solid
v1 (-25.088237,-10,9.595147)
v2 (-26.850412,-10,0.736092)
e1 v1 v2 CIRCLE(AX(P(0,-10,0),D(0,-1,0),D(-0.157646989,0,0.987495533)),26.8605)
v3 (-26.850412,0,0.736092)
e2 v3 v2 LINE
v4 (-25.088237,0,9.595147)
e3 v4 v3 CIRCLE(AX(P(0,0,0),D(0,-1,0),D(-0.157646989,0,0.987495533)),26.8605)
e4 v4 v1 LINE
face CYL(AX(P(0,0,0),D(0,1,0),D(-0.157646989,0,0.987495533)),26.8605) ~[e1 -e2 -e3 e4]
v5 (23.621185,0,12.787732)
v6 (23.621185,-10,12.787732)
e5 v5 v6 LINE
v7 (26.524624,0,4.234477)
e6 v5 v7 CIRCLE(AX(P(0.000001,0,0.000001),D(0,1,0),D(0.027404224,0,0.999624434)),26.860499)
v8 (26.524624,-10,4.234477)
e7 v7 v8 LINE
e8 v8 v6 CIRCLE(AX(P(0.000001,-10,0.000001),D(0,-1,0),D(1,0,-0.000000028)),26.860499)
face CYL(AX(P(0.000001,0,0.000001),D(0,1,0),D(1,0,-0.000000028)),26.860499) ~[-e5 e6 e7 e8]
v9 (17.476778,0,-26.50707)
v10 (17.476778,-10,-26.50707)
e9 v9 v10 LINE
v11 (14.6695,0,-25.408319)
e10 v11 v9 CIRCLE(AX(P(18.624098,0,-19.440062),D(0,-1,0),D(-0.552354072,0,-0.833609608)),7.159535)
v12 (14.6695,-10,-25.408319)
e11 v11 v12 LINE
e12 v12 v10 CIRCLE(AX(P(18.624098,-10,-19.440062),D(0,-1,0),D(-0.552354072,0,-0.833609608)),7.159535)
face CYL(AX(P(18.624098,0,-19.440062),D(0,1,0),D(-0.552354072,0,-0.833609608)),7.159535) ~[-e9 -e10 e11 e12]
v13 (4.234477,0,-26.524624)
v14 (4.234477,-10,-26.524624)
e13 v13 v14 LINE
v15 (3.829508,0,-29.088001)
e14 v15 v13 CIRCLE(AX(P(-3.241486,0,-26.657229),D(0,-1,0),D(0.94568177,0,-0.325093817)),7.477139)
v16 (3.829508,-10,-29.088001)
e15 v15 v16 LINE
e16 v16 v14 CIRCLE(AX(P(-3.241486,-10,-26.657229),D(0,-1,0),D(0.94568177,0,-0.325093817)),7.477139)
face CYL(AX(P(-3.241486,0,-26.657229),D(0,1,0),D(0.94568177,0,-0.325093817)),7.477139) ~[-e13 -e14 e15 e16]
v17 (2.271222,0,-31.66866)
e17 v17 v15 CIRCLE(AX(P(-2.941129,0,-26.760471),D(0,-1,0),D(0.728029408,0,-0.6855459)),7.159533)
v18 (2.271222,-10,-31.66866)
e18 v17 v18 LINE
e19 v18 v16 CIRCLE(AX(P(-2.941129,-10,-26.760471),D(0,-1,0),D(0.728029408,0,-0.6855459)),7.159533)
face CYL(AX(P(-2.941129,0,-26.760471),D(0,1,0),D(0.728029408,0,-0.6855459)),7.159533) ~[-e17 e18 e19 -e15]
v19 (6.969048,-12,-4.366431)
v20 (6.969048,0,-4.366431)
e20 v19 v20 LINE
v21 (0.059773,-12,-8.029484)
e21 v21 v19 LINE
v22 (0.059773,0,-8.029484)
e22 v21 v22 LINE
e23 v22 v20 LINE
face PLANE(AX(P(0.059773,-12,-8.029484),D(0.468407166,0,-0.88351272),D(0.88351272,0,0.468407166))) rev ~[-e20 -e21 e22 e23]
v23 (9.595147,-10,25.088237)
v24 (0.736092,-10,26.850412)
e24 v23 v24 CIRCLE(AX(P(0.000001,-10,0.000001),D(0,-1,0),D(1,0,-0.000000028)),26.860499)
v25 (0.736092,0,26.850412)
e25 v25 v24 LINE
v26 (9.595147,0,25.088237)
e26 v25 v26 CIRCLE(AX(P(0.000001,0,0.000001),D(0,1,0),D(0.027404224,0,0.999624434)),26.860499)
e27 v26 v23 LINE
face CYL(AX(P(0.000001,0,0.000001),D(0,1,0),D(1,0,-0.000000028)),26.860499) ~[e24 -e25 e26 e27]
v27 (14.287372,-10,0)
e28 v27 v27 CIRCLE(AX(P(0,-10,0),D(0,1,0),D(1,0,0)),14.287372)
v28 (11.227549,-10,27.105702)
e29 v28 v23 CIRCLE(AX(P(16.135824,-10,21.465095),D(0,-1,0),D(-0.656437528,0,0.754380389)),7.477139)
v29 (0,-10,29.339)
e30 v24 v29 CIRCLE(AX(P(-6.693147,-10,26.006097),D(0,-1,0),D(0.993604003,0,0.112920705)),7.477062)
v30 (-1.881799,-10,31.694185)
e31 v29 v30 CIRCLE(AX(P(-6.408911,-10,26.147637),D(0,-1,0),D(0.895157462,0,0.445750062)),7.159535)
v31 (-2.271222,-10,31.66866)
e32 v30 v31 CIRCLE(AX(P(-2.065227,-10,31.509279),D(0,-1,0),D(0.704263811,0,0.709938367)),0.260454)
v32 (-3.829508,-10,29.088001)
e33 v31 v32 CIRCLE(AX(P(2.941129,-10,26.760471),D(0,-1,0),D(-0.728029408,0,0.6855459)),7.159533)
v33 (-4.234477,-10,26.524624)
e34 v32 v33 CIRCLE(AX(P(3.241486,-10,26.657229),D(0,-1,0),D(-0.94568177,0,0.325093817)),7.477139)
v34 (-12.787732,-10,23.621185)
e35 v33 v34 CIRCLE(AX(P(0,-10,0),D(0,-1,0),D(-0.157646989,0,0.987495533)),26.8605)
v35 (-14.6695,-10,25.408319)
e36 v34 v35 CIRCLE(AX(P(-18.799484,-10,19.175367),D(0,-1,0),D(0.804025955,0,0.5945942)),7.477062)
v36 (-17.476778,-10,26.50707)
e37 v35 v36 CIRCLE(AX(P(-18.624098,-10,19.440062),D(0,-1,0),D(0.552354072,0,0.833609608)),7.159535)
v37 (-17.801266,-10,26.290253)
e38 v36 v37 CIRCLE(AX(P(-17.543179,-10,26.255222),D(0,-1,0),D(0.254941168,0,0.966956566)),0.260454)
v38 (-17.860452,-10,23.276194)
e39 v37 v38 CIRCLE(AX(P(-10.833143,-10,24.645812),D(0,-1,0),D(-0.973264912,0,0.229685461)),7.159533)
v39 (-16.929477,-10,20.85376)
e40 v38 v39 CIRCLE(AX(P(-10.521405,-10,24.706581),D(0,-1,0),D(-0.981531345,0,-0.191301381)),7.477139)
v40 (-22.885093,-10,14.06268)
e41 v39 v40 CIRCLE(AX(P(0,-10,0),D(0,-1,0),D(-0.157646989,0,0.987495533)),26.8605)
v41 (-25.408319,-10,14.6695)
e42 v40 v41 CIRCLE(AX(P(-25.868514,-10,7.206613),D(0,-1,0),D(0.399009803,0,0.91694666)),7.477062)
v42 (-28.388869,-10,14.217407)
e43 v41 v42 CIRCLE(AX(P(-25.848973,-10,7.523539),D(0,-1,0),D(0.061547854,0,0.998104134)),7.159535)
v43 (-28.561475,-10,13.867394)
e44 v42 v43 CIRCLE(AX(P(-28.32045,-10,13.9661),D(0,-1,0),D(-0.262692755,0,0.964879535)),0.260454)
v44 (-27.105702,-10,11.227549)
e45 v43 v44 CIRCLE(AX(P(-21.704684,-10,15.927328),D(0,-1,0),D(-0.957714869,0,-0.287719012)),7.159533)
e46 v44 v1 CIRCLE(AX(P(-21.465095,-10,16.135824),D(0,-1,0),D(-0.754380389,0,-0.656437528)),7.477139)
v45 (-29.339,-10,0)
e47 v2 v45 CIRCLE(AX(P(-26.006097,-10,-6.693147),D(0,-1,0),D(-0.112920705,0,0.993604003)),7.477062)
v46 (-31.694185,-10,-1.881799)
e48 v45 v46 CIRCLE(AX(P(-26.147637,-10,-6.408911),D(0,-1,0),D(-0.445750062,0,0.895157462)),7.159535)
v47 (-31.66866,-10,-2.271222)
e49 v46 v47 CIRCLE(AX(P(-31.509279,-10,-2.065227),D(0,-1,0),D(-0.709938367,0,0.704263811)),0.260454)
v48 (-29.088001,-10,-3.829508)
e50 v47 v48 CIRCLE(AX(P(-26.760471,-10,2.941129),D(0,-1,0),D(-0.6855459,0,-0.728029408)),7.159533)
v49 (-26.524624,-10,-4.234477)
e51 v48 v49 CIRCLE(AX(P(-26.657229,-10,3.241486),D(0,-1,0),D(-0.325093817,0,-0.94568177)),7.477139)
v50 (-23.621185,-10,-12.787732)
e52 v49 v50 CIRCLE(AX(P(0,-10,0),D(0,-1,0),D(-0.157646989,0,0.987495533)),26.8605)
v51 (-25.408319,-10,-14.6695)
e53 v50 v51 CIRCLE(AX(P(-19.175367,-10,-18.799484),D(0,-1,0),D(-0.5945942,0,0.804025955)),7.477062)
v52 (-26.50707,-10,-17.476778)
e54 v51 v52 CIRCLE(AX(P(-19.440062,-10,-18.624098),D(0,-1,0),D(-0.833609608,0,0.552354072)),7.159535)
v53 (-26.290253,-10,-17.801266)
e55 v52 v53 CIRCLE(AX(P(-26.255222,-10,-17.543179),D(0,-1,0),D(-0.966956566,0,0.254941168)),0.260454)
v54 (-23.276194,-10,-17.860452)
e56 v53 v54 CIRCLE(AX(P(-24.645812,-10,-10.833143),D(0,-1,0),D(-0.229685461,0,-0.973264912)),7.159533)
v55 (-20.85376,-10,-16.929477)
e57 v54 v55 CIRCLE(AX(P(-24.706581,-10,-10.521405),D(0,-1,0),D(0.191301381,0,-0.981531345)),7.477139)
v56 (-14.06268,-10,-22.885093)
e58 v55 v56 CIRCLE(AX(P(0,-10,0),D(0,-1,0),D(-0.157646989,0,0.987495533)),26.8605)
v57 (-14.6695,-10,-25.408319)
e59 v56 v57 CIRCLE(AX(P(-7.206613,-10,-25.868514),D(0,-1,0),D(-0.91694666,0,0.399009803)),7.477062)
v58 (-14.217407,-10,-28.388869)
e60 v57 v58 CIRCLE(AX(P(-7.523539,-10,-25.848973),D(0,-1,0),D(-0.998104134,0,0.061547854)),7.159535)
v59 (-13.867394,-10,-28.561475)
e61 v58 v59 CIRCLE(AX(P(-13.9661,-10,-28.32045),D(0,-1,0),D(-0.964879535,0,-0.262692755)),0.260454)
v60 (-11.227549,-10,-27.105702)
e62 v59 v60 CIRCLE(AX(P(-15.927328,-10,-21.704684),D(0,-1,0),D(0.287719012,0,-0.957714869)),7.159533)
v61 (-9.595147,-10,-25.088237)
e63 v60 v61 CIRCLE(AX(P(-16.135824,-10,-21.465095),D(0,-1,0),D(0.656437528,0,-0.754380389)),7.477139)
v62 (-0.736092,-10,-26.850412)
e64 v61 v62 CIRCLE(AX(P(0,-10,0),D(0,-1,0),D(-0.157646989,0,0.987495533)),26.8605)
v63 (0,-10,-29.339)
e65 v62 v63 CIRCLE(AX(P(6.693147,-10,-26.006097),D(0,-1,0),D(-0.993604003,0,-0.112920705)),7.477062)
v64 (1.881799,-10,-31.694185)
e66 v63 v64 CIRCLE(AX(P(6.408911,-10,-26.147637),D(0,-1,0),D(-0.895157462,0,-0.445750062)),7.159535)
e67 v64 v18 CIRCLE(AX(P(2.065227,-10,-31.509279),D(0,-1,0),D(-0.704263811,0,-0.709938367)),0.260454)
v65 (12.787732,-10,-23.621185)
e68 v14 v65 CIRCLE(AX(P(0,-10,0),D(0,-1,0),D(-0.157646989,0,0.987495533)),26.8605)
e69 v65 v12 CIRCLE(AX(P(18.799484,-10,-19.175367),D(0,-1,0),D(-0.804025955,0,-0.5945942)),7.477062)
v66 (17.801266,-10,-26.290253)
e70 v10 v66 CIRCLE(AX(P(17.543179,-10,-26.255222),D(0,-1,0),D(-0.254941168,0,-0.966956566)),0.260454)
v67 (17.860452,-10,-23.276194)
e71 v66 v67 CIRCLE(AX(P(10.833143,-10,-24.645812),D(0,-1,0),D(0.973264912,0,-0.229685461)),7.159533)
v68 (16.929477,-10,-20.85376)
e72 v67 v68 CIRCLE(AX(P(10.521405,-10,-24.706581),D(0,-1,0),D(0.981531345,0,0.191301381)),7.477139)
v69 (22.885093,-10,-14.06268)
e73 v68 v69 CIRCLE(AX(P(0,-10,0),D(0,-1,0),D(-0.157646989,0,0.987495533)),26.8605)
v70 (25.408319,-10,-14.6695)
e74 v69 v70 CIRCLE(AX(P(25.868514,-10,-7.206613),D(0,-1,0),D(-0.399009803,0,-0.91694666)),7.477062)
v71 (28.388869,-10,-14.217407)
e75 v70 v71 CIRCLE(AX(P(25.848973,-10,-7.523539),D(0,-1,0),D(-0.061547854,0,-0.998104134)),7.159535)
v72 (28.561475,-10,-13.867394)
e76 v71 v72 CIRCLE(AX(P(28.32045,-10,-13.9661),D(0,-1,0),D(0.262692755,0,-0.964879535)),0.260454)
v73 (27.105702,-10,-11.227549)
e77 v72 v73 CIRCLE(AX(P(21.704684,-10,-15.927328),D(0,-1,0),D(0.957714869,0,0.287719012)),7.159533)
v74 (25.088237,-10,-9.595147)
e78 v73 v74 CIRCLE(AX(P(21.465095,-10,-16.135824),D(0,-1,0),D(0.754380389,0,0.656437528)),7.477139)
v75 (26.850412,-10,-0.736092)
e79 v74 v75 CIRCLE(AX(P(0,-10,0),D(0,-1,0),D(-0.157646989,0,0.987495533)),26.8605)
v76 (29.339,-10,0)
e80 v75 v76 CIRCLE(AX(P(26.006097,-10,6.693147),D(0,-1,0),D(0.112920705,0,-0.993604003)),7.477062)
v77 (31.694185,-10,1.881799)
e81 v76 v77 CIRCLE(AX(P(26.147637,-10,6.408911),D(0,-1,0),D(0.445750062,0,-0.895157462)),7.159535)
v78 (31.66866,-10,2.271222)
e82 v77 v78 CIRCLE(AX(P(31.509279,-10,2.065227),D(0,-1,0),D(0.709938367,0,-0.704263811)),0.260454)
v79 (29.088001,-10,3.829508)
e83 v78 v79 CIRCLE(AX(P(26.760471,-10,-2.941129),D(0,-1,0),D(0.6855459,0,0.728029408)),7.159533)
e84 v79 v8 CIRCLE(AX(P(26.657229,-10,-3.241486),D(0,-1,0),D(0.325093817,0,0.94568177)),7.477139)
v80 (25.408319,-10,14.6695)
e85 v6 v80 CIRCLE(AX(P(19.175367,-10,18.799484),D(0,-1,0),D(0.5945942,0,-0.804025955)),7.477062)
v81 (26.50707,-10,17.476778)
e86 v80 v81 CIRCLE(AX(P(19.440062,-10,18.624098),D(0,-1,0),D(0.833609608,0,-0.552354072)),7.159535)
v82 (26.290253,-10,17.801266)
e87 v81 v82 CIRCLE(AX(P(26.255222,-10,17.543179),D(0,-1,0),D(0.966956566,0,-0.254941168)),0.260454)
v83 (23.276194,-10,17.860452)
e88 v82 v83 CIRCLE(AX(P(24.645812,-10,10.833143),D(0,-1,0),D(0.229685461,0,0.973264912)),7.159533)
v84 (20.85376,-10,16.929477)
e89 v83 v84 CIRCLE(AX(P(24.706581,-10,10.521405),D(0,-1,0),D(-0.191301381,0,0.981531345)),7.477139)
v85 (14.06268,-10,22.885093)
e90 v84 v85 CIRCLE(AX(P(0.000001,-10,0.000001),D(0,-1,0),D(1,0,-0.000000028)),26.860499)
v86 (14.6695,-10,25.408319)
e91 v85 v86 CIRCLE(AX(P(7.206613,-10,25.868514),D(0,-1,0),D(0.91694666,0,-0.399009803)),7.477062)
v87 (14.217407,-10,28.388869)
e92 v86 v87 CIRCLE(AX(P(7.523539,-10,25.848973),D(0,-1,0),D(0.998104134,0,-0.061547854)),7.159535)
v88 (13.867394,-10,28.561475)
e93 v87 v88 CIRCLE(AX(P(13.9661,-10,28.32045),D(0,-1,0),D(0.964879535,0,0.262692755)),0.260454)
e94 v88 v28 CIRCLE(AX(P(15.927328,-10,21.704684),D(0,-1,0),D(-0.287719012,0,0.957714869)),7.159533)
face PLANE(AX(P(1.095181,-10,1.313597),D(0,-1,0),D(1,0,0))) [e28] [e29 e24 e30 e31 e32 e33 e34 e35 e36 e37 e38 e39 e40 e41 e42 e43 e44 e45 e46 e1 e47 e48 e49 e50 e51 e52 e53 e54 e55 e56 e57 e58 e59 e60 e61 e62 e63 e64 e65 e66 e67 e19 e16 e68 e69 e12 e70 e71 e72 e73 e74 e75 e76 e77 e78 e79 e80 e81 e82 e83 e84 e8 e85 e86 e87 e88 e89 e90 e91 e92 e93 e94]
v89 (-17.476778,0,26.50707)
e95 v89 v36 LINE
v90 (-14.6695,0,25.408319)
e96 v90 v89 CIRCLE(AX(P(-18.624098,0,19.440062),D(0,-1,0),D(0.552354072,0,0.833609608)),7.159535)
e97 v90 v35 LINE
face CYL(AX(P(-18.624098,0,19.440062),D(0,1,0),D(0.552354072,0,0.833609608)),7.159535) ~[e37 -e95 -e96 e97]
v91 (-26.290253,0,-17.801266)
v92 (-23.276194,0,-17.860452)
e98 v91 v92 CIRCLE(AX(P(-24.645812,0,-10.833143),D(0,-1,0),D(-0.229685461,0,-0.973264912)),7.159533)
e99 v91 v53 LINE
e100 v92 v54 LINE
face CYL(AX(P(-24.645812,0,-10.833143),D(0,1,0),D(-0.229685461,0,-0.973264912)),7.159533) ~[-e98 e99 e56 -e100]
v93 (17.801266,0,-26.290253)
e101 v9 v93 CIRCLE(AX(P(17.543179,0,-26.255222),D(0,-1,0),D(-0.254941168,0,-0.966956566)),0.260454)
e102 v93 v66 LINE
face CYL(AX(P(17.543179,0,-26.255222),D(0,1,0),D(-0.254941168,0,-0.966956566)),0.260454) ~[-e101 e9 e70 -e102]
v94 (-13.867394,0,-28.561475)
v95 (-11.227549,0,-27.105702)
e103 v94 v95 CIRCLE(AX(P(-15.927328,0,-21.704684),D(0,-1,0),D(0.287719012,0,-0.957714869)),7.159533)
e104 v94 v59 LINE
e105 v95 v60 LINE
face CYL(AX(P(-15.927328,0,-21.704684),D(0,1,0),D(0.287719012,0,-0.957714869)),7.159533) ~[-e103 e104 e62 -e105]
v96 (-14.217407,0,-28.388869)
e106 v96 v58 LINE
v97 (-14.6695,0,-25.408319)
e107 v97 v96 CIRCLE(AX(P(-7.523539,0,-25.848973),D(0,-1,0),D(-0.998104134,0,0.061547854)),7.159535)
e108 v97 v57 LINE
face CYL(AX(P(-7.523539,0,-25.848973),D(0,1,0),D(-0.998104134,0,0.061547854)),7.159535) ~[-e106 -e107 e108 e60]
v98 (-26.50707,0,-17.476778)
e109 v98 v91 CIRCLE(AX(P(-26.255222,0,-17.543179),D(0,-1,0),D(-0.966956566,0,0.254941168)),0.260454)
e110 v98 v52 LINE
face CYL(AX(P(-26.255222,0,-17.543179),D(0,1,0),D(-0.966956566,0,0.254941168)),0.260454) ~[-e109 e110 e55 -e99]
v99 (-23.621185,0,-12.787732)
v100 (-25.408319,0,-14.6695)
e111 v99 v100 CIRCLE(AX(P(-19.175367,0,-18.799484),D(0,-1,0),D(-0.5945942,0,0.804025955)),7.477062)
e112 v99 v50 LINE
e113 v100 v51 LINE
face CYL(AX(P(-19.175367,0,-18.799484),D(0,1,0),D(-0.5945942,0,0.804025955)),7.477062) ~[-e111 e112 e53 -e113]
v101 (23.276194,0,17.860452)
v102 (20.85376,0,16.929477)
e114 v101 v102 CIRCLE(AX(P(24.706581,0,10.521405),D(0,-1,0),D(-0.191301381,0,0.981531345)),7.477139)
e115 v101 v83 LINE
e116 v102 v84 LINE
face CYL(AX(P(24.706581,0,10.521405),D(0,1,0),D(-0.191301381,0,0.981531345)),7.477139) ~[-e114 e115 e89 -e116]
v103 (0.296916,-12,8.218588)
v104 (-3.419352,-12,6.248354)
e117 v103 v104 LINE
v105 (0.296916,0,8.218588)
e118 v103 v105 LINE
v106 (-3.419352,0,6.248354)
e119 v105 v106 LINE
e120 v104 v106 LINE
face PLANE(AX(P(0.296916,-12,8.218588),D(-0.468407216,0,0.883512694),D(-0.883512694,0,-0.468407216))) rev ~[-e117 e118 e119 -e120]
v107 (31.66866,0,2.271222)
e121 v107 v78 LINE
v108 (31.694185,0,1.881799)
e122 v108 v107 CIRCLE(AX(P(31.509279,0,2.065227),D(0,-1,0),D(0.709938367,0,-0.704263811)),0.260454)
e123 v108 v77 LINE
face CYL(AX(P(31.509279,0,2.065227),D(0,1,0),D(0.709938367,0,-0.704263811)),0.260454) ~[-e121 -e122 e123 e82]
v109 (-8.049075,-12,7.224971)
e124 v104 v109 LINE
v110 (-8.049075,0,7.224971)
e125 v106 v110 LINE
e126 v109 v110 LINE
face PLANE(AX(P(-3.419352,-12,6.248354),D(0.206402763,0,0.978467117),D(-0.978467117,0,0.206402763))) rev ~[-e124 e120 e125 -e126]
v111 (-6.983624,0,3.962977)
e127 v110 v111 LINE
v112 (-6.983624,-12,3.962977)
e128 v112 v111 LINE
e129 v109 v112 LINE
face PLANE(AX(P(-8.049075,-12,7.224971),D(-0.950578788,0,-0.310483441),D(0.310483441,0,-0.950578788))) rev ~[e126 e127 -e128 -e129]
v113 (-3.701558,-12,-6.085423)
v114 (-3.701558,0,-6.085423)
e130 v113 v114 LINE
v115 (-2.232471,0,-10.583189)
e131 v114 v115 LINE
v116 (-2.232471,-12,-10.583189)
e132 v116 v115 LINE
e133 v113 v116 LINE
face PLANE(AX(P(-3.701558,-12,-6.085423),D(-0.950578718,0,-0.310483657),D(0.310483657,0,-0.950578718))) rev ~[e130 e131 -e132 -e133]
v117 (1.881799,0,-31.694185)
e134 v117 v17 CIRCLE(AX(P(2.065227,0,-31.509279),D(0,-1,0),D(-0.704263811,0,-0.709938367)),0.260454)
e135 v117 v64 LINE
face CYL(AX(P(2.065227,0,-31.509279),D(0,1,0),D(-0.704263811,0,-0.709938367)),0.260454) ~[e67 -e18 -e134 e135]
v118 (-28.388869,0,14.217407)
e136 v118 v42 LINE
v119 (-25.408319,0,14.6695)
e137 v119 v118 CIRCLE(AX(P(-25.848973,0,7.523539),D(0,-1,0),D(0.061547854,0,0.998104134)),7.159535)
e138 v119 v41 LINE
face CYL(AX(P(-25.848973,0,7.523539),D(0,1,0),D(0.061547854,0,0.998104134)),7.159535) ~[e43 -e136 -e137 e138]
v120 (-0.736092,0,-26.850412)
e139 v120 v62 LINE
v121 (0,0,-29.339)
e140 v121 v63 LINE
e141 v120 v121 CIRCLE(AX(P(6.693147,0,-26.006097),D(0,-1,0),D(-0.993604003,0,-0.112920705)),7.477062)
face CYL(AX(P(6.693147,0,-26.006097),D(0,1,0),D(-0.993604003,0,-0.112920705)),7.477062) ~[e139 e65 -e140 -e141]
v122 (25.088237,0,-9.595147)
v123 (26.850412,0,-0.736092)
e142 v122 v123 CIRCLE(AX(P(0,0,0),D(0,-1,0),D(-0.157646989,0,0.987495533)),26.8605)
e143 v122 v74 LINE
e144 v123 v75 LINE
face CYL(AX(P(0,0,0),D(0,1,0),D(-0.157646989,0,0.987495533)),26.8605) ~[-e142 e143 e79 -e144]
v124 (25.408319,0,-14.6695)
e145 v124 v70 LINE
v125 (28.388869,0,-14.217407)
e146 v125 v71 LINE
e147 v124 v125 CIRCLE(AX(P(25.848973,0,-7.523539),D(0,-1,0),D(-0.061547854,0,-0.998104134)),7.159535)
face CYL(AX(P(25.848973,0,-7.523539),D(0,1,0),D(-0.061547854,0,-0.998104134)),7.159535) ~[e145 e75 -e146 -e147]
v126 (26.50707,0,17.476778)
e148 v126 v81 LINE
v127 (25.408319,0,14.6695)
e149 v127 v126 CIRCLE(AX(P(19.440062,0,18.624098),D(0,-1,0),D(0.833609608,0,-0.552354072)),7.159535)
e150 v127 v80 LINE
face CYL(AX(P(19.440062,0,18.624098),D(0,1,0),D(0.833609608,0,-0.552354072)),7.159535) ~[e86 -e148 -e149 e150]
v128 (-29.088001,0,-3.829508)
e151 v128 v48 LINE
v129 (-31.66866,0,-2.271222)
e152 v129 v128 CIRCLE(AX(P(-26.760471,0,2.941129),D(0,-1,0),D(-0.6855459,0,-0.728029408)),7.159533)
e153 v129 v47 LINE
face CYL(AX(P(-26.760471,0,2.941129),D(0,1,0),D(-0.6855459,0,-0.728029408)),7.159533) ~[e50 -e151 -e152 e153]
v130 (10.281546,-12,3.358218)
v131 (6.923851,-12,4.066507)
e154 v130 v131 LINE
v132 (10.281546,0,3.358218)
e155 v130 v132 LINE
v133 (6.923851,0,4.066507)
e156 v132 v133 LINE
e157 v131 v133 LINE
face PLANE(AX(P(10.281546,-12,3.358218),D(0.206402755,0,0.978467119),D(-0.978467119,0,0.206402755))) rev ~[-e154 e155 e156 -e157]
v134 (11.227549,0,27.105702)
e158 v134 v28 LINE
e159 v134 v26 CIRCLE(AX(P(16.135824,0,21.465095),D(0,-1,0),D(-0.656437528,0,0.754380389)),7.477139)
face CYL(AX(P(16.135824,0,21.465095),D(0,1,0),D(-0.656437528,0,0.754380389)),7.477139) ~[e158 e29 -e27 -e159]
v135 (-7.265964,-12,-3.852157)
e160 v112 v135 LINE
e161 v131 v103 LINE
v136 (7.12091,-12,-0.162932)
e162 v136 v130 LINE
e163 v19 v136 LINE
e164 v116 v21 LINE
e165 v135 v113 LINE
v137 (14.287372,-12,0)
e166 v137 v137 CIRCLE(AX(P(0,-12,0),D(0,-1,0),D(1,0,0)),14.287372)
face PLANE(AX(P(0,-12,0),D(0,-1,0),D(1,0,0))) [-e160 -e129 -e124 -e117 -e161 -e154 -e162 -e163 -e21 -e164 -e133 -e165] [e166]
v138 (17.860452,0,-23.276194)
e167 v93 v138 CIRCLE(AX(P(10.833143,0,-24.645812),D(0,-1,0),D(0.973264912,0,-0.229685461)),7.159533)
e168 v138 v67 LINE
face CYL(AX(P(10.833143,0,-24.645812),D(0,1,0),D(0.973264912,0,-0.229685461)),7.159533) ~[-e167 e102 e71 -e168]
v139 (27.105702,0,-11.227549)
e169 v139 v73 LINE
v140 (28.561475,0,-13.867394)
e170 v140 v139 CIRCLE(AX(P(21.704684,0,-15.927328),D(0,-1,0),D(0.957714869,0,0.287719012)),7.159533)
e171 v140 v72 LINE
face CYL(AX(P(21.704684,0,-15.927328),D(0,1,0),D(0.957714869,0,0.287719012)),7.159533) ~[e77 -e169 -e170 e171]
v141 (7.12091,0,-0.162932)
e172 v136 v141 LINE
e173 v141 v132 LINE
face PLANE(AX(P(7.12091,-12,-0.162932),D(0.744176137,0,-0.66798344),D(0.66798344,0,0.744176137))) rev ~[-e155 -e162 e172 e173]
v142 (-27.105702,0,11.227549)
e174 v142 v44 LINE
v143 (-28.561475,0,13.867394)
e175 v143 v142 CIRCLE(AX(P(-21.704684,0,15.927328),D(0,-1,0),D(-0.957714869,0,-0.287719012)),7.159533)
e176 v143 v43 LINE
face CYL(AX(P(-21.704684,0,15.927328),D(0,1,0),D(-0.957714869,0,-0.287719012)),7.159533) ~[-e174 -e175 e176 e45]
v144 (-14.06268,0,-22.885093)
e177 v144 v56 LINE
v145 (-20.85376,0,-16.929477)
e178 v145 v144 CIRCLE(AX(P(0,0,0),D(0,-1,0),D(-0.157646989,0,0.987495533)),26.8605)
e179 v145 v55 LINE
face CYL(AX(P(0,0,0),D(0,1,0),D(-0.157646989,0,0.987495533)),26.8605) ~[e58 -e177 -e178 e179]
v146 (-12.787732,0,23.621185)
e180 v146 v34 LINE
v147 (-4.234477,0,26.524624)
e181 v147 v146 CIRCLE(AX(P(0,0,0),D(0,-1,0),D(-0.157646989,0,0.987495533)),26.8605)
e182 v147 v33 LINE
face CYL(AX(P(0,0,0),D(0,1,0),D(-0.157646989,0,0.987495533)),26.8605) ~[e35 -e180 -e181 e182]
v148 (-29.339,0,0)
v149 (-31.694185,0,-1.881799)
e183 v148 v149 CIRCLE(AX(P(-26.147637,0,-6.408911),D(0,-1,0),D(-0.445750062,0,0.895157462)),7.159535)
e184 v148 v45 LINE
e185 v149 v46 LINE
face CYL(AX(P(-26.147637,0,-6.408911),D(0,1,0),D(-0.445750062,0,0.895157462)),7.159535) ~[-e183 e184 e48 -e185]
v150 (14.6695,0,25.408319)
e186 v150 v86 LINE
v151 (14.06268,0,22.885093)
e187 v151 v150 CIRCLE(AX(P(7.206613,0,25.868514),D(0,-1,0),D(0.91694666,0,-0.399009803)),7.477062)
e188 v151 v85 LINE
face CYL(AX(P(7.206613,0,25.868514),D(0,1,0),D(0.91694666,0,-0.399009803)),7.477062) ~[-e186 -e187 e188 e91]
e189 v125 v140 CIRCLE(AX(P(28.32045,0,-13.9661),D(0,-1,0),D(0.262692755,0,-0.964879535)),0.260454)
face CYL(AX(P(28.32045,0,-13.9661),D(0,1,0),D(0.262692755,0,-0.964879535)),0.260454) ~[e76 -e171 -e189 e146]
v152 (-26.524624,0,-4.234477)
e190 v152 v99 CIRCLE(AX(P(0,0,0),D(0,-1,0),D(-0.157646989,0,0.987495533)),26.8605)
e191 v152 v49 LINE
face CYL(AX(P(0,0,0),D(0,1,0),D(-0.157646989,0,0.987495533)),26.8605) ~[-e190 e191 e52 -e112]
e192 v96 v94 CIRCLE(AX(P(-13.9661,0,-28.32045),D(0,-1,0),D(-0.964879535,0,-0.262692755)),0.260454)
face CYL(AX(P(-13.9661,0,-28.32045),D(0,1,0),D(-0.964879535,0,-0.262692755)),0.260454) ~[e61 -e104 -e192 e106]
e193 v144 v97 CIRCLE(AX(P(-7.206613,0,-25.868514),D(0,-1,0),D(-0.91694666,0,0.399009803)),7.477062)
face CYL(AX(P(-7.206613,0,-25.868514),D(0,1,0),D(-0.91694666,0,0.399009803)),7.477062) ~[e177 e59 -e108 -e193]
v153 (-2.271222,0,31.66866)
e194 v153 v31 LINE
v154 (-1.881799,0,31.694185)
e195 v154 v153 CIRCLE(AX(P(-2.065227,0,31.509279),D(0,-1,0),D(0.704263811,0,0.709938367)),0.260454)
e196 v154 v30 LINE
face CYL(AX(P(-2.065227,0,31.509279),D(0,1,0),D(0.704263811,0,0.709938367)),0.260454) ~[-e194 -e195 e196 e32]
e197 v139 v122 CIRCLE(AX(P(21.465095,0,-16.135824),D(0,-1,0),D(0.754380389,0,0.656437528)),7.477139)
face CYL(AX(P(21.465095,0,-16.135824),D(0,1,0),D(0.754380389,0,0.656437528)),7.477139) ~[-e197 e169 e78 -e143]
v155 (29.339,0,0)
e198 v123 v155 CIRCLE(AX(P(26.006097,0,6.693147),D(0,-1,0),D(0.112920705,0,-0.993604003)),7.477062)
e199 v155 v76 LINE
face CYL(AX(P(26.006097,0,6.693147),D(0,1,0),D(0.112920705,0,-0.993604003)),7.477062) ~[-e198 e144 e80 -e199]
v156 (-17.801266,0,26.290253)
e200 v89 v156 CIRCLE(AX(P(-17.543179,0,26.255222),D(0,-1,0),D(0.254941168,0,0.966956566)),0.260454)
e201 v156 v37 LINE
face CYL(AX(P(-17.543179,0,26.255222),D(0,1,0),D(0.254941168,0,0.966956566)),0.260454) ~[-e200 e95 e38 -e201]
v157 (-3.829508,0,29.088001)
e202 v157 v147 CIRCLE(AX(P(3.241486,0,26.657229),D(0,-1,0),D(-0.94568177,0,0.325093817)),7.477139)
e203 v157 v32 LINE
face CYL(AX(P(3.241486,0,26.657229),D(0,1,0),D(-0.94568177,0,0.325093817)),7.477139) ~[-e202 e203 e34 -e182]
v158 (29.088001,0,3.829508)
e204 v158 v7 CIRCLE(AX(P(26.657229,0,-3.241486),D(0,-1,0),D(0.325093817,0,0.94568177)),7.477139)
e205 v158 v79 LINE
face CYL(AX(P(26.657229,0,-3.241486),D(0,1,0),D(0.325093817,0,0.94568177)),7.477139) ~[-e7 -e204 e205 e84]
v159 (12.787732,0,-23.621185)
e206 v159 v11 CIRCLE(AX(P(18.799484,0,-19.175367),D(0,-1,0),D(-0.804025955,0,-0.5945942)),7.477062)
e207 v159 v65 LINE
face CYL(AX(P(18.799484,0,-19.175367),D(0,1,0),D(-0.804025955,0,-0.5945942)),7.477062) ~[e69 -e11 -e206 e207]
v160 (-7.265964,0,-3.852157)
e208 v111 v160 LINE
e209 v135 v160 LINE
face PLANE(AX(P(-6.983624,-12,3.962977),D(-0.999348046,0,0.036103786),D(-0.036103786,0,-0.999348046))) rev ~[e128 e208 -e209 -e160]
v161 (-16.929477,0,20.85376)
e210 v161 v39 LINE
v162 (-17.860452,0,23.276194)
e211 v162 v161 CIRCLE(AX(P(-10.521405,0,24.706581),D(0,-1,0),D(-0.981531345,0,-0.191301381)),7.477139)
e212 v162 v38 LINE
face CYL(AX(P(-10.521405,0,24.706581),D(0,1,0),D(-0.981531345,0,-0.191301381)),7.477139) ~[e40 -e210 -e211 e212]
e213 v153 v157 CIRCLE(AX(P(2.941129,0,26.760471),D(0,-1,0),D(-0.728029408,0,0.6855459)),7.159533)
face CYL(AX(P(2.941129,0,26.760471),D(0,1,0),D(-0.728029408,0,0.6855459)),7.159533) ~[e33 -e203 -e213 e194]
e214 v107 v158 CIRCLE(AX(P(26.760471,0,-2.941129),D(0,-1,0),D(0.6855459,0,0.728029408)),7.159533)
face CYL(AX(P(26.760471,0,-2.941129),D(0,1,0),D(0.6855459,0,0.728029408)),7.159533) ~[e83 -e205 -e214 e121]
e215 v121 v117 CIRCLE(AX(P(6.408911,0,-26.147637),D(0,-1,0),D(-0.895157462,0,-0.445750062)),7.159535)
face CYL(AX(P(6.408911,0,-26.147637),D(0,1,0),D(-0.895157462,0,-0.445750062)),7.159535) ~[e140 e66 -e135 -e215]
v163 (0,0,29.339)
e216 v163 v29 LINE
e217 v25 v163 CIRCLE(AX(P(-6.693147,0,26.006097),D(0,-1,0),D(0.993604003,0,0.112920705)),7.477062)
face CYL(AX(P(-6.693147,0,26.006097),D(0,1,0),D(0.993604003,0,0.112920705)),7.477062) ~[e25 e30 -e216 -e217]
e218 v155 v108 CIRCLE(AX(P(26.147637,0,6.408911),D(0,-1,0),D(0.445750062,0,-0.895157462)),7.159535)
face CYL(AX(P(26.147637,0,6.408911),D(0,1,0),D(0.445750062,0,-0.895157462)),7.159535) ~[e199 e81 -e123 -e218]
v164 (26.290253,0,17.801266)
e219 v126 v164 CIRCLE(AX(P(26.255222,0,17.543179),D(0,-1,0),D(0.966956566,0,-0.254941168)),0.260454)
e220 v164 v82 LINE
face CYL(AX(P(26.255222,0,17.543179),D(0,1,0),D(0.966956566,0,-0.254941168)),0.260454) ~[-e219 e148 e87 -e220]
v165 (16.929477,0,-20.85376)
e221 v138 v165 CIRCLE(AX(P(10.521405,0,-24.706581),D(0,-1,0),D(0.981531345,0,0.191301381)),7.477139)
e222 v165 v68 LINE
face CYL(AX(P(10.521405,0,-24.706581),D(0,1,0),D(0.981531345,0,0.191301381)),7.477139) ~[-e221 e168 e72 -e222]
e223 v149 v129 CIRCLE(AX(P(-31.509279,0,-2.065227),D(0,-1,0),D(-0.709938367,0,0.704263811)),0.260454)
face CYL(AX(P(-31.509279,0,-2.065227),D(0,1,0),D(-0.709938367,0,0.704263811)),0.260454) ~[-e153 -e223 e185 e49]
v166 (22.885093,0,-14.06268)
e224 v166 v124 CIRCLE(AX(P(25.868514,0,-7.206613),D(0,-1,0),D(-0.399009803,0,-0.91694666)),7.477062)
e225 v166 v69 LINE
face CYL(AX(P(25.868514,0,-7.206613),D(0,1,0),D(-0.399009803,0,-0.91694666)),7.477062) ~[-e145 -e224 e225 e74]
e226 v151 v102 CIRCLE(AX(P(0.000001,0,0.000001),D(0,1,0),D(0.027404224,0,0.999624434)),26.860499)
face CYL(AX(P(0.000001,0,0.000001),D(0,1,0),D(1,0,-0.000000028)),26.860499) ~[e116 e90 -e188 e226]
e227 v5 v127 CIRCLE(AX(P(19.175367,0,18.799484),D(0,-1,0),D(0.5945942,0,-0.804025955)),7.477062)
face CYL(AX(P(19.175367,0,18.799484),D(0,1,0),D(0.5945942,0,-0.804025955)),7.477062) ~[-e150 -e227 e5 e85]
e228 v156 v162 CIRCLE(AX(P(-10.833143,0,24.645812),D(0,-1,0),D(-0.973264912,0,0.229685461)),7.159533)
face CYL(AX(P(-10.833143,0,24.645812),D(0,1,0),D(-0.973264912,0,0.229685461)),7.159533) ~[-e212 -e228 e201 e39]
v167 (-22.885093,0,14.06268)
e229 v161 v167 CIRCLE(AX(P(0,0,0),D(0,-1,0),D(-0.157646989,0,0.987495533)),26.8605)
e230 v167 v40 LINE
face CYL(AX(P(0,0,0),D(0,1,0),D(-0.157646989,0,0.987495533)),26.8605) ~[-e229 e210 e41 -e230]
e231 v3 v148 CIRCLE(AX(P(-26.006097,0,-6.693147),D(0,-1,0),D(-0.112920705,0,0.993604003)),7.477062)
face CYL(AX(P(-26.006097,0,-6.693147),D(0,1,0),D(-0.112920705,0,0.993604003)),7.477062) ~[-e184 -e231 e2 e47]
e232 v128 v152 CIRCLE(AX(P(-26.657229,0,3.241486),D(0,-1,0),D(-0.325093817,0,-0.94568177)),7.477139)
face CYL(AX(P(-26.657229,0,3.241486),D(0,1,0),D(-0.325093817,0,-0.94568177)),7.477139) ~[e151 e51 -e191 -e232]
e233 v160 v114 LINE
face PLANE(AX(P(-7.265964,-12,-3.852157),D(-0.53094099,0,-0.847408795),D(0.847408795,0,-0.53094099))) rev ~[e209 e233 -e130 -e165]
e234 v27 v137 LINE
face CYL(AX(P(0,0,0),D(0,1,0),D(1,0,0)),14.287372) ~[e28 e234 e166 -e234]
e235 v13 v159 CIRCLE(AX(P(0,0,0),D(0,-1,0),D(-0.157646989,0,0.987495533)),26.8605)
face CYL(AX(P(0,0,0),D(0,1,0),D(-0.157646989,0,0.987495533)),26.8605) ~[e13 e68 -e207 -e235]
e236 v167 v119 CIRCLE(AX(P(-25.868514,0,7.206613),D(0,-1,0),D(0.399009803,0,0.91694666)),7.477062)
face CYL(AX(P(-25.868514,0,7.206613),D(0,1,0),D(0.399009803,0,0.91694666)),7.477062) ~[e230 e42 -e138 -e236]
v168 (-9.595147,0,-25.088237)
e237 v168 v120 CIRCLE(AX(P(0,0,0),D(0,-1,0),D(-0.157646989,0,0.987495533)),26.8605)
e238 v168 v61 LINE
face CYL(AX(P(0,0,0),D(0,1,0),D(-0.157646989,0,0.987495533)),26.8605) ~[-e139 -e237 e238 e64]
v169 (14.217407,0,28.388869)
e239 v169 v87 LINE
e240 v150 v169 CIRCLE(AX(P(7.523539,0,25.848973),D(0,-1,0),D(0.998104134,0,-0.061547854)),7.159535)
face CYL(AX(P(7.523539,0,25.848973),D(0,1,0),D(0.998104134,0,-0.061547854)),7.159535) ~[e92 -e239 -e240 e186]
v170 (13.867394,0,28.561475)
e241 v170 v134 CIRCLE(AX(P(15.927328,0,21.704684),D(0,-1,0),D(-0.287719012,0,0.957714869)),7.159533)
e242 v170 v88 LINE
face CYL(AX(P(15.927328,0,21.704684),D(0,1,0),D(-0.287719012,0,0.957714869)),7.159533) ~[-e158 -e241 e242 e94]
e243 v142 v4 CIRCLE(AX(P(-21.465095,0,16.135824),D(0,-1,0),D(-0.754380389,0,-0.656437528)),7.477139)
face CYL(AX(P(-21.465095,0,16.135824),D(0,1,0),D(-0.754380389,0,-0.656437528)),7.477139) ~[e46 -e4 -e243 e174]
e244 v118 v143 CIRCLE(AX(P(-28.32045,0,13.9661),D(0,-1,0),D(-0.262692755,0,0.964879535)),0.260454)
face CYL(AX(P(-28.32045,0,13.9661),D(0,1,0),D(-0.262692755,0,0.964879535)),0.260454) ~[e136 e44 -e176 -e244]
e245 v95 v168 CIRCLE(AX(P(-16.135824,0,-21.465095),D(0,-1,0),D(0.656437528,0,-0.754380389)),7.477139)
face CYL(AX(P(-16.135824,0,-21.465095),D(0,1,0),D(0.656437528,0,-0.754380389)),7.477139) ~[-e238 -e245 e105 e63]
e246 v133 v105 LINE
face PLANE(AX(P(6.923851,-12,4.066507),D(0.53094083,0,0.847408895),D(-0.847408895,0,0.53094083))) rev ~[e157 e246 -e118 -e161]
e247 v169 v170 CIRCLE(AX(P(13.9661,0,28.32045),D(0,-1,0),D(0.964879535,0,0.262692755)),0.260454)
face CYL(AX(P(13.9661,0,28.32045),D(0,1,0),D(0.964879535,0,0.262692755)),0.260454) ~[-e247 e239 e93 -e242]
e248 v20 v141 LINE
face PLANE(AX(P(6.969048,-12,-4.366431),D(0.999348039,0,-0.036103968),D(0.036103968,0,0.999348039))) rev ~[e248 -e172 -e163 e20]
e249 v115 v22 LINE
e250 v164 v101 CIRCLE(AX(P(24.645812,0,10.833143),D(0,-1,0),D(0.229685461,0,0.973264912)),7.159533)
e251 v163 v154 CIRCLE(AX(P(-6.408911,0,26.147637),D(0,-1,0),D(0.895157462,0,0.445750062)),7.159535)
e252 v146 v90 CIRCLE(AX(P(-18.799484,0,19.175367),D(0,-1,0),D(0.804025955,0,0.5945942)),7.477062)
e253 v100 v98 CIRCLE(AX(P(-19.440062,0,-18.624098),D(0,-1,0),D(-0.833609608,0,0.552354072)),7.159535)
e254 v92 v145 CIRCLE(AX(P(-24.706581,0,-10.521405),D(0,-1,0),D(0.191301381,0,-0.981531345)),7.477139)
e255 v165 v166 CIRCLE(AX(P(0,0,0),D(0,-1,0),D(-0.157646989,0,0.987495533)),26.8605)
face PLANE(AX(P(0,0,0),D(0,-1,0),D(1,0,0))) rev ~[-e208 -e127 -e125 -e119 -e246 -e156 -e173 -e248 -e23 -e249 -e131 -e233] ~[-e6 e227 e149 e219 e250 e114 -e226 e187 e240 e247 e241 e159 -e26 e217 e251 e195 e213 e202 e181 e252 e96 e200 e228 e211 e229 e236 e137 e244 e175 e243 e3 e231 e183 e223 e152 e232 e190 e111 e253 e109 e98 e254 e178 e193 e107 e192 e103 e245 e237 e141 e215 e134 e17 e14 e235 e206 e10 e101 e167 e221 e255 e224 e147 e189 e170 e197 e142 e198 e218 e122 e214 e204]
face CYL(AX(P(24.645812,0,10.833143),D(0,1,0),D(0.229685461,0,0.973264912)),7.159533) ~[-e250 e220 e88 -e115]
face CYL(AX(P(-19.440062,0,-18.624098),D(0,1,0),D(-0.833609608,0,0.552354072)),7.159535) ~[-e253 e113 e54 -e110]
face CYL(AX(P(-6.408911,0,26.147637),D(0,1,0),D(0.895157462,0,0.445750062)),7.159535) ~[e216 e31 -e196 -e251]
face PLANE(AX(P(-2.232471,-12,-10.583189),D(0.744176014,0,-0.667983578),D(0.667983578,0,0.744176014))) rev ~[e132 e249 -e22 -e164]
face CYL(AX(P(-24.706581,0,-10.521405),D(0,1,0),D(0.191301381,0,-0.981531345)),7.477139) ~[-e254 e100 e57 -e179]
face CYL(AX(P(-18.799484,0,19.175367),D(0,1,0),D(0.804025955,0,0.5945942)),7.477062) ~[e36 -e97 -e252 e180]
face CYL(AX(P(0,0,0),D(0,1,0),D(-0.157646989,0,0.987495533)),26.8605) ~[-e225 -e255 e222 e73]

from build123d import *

# Parameters (mm, degrees)
F1_DEPTH = 10
F2_COUNT = 12
F3_R     = 14.287372
F4_DEPTH = 12
F6_DEPTH = 25


with BuildPart() as f1:
    # F0 (on Front) → F1 (new body)
    with BuildSketch(Plane.XZ):
        with BuildLine():
            ThreePointArc((-4.234477, 26.524624), (-17.431958, -20.435589), (26.8605, 0))
            ThreePointArc((26.8605, 0), (19.251731, 18.731186), (0.736092, 26.850412))
            ThreePointArc((0.736092, 26.850412), (-1.756761, 26.80299), (-4.234477, 26.524624))
        make_face()
        with BuildLine():
            ThreePointArc((-4.234477, 26.524624), (-1.756761, 26.80299), (0.736092, 26.850412))
            ThreePointArc((0.736092, 26.850412), (0.47684, 28.126886), (0, 29.339))
            ThreePointArc((0, 29.339), (-0.815533, 30.61676), (-1.881799, 31.694185))
            ThreePointArc((-1.881799, 31.694185), (-2.082262, 31.769175), (-2.271222, 31.66866))
            ThreePointArc((-2.271222, 31.66866), (-3.187733, 30.461278), (-3.829508, 29.088001))
            ThreePointArc((-3.829508, 29.088001), (-4.144055, 27.824016), (-4.234477, 26.524624))
        make_face()
    extrude(amount=F1_DEPTH)

    # F2: F1 ×12 about axis
    f2_axis = Axis((0, 0, 0), (0, -1, 0))


with BuildPart() as f1_1:
    add(f1.part)
    for i in range(1, F2_COUNT):
        add(f1.part.rotate(f2_axis, i * 360 / F2_COUNT))

    # F3 (on Front) → F4 (join)
    with BuildSketch(Plane.XZ):
        Circle(F3_R)
    extrude(amount=F4_DEPTH)

    # F5 (on face) → F6 (cut)
    with BuildSketch(Plane.XZ.offset(12)):
        Polygon((7.265964, 3.852157), (6.923851, 4.066507), (-3.419352, 6.248354), (-6.969048, 4.366431), (-6.983624, 3.962977), (-3.701558, -6.085423), (-0.296916, -8.218588), (0.059773, -8.029484), (7.12091, -0.162932), align=None)
        Polygon((6.923851, 4.066507), (0.296916, 8.218588), (-3.419352, 6.248354), align=None)
        Polygon((6.969048, -4.366431), (7.12091, -0.162932), (0.059773, -8.029484), align=None)
        Polygon((-3.701558, -6.085423), (-6.983624, 3.962977), (-7.265964, -3.852157), align=None)
        Polygon((-6.969048, 4.366431), (-3.419352, 6.248354), (-8.049075, 7.224971), (-6.983624, 3.962977), align=None)
        Polygon((-2.232471, -10.583189), (0.059773, -8.029484), (-0.296916, -8.218588), (-3.701558, -6.085423), align=None)
        Polygon((10.281546, 3.358218), (6.923851, 4.066507), (7.265964, 3.852157), (7.12091, -0.162932), align=None)
    extrude(amount=-F6_DEPTH, mode=Mode.SUBTRACT)


solid = f1_1.part
